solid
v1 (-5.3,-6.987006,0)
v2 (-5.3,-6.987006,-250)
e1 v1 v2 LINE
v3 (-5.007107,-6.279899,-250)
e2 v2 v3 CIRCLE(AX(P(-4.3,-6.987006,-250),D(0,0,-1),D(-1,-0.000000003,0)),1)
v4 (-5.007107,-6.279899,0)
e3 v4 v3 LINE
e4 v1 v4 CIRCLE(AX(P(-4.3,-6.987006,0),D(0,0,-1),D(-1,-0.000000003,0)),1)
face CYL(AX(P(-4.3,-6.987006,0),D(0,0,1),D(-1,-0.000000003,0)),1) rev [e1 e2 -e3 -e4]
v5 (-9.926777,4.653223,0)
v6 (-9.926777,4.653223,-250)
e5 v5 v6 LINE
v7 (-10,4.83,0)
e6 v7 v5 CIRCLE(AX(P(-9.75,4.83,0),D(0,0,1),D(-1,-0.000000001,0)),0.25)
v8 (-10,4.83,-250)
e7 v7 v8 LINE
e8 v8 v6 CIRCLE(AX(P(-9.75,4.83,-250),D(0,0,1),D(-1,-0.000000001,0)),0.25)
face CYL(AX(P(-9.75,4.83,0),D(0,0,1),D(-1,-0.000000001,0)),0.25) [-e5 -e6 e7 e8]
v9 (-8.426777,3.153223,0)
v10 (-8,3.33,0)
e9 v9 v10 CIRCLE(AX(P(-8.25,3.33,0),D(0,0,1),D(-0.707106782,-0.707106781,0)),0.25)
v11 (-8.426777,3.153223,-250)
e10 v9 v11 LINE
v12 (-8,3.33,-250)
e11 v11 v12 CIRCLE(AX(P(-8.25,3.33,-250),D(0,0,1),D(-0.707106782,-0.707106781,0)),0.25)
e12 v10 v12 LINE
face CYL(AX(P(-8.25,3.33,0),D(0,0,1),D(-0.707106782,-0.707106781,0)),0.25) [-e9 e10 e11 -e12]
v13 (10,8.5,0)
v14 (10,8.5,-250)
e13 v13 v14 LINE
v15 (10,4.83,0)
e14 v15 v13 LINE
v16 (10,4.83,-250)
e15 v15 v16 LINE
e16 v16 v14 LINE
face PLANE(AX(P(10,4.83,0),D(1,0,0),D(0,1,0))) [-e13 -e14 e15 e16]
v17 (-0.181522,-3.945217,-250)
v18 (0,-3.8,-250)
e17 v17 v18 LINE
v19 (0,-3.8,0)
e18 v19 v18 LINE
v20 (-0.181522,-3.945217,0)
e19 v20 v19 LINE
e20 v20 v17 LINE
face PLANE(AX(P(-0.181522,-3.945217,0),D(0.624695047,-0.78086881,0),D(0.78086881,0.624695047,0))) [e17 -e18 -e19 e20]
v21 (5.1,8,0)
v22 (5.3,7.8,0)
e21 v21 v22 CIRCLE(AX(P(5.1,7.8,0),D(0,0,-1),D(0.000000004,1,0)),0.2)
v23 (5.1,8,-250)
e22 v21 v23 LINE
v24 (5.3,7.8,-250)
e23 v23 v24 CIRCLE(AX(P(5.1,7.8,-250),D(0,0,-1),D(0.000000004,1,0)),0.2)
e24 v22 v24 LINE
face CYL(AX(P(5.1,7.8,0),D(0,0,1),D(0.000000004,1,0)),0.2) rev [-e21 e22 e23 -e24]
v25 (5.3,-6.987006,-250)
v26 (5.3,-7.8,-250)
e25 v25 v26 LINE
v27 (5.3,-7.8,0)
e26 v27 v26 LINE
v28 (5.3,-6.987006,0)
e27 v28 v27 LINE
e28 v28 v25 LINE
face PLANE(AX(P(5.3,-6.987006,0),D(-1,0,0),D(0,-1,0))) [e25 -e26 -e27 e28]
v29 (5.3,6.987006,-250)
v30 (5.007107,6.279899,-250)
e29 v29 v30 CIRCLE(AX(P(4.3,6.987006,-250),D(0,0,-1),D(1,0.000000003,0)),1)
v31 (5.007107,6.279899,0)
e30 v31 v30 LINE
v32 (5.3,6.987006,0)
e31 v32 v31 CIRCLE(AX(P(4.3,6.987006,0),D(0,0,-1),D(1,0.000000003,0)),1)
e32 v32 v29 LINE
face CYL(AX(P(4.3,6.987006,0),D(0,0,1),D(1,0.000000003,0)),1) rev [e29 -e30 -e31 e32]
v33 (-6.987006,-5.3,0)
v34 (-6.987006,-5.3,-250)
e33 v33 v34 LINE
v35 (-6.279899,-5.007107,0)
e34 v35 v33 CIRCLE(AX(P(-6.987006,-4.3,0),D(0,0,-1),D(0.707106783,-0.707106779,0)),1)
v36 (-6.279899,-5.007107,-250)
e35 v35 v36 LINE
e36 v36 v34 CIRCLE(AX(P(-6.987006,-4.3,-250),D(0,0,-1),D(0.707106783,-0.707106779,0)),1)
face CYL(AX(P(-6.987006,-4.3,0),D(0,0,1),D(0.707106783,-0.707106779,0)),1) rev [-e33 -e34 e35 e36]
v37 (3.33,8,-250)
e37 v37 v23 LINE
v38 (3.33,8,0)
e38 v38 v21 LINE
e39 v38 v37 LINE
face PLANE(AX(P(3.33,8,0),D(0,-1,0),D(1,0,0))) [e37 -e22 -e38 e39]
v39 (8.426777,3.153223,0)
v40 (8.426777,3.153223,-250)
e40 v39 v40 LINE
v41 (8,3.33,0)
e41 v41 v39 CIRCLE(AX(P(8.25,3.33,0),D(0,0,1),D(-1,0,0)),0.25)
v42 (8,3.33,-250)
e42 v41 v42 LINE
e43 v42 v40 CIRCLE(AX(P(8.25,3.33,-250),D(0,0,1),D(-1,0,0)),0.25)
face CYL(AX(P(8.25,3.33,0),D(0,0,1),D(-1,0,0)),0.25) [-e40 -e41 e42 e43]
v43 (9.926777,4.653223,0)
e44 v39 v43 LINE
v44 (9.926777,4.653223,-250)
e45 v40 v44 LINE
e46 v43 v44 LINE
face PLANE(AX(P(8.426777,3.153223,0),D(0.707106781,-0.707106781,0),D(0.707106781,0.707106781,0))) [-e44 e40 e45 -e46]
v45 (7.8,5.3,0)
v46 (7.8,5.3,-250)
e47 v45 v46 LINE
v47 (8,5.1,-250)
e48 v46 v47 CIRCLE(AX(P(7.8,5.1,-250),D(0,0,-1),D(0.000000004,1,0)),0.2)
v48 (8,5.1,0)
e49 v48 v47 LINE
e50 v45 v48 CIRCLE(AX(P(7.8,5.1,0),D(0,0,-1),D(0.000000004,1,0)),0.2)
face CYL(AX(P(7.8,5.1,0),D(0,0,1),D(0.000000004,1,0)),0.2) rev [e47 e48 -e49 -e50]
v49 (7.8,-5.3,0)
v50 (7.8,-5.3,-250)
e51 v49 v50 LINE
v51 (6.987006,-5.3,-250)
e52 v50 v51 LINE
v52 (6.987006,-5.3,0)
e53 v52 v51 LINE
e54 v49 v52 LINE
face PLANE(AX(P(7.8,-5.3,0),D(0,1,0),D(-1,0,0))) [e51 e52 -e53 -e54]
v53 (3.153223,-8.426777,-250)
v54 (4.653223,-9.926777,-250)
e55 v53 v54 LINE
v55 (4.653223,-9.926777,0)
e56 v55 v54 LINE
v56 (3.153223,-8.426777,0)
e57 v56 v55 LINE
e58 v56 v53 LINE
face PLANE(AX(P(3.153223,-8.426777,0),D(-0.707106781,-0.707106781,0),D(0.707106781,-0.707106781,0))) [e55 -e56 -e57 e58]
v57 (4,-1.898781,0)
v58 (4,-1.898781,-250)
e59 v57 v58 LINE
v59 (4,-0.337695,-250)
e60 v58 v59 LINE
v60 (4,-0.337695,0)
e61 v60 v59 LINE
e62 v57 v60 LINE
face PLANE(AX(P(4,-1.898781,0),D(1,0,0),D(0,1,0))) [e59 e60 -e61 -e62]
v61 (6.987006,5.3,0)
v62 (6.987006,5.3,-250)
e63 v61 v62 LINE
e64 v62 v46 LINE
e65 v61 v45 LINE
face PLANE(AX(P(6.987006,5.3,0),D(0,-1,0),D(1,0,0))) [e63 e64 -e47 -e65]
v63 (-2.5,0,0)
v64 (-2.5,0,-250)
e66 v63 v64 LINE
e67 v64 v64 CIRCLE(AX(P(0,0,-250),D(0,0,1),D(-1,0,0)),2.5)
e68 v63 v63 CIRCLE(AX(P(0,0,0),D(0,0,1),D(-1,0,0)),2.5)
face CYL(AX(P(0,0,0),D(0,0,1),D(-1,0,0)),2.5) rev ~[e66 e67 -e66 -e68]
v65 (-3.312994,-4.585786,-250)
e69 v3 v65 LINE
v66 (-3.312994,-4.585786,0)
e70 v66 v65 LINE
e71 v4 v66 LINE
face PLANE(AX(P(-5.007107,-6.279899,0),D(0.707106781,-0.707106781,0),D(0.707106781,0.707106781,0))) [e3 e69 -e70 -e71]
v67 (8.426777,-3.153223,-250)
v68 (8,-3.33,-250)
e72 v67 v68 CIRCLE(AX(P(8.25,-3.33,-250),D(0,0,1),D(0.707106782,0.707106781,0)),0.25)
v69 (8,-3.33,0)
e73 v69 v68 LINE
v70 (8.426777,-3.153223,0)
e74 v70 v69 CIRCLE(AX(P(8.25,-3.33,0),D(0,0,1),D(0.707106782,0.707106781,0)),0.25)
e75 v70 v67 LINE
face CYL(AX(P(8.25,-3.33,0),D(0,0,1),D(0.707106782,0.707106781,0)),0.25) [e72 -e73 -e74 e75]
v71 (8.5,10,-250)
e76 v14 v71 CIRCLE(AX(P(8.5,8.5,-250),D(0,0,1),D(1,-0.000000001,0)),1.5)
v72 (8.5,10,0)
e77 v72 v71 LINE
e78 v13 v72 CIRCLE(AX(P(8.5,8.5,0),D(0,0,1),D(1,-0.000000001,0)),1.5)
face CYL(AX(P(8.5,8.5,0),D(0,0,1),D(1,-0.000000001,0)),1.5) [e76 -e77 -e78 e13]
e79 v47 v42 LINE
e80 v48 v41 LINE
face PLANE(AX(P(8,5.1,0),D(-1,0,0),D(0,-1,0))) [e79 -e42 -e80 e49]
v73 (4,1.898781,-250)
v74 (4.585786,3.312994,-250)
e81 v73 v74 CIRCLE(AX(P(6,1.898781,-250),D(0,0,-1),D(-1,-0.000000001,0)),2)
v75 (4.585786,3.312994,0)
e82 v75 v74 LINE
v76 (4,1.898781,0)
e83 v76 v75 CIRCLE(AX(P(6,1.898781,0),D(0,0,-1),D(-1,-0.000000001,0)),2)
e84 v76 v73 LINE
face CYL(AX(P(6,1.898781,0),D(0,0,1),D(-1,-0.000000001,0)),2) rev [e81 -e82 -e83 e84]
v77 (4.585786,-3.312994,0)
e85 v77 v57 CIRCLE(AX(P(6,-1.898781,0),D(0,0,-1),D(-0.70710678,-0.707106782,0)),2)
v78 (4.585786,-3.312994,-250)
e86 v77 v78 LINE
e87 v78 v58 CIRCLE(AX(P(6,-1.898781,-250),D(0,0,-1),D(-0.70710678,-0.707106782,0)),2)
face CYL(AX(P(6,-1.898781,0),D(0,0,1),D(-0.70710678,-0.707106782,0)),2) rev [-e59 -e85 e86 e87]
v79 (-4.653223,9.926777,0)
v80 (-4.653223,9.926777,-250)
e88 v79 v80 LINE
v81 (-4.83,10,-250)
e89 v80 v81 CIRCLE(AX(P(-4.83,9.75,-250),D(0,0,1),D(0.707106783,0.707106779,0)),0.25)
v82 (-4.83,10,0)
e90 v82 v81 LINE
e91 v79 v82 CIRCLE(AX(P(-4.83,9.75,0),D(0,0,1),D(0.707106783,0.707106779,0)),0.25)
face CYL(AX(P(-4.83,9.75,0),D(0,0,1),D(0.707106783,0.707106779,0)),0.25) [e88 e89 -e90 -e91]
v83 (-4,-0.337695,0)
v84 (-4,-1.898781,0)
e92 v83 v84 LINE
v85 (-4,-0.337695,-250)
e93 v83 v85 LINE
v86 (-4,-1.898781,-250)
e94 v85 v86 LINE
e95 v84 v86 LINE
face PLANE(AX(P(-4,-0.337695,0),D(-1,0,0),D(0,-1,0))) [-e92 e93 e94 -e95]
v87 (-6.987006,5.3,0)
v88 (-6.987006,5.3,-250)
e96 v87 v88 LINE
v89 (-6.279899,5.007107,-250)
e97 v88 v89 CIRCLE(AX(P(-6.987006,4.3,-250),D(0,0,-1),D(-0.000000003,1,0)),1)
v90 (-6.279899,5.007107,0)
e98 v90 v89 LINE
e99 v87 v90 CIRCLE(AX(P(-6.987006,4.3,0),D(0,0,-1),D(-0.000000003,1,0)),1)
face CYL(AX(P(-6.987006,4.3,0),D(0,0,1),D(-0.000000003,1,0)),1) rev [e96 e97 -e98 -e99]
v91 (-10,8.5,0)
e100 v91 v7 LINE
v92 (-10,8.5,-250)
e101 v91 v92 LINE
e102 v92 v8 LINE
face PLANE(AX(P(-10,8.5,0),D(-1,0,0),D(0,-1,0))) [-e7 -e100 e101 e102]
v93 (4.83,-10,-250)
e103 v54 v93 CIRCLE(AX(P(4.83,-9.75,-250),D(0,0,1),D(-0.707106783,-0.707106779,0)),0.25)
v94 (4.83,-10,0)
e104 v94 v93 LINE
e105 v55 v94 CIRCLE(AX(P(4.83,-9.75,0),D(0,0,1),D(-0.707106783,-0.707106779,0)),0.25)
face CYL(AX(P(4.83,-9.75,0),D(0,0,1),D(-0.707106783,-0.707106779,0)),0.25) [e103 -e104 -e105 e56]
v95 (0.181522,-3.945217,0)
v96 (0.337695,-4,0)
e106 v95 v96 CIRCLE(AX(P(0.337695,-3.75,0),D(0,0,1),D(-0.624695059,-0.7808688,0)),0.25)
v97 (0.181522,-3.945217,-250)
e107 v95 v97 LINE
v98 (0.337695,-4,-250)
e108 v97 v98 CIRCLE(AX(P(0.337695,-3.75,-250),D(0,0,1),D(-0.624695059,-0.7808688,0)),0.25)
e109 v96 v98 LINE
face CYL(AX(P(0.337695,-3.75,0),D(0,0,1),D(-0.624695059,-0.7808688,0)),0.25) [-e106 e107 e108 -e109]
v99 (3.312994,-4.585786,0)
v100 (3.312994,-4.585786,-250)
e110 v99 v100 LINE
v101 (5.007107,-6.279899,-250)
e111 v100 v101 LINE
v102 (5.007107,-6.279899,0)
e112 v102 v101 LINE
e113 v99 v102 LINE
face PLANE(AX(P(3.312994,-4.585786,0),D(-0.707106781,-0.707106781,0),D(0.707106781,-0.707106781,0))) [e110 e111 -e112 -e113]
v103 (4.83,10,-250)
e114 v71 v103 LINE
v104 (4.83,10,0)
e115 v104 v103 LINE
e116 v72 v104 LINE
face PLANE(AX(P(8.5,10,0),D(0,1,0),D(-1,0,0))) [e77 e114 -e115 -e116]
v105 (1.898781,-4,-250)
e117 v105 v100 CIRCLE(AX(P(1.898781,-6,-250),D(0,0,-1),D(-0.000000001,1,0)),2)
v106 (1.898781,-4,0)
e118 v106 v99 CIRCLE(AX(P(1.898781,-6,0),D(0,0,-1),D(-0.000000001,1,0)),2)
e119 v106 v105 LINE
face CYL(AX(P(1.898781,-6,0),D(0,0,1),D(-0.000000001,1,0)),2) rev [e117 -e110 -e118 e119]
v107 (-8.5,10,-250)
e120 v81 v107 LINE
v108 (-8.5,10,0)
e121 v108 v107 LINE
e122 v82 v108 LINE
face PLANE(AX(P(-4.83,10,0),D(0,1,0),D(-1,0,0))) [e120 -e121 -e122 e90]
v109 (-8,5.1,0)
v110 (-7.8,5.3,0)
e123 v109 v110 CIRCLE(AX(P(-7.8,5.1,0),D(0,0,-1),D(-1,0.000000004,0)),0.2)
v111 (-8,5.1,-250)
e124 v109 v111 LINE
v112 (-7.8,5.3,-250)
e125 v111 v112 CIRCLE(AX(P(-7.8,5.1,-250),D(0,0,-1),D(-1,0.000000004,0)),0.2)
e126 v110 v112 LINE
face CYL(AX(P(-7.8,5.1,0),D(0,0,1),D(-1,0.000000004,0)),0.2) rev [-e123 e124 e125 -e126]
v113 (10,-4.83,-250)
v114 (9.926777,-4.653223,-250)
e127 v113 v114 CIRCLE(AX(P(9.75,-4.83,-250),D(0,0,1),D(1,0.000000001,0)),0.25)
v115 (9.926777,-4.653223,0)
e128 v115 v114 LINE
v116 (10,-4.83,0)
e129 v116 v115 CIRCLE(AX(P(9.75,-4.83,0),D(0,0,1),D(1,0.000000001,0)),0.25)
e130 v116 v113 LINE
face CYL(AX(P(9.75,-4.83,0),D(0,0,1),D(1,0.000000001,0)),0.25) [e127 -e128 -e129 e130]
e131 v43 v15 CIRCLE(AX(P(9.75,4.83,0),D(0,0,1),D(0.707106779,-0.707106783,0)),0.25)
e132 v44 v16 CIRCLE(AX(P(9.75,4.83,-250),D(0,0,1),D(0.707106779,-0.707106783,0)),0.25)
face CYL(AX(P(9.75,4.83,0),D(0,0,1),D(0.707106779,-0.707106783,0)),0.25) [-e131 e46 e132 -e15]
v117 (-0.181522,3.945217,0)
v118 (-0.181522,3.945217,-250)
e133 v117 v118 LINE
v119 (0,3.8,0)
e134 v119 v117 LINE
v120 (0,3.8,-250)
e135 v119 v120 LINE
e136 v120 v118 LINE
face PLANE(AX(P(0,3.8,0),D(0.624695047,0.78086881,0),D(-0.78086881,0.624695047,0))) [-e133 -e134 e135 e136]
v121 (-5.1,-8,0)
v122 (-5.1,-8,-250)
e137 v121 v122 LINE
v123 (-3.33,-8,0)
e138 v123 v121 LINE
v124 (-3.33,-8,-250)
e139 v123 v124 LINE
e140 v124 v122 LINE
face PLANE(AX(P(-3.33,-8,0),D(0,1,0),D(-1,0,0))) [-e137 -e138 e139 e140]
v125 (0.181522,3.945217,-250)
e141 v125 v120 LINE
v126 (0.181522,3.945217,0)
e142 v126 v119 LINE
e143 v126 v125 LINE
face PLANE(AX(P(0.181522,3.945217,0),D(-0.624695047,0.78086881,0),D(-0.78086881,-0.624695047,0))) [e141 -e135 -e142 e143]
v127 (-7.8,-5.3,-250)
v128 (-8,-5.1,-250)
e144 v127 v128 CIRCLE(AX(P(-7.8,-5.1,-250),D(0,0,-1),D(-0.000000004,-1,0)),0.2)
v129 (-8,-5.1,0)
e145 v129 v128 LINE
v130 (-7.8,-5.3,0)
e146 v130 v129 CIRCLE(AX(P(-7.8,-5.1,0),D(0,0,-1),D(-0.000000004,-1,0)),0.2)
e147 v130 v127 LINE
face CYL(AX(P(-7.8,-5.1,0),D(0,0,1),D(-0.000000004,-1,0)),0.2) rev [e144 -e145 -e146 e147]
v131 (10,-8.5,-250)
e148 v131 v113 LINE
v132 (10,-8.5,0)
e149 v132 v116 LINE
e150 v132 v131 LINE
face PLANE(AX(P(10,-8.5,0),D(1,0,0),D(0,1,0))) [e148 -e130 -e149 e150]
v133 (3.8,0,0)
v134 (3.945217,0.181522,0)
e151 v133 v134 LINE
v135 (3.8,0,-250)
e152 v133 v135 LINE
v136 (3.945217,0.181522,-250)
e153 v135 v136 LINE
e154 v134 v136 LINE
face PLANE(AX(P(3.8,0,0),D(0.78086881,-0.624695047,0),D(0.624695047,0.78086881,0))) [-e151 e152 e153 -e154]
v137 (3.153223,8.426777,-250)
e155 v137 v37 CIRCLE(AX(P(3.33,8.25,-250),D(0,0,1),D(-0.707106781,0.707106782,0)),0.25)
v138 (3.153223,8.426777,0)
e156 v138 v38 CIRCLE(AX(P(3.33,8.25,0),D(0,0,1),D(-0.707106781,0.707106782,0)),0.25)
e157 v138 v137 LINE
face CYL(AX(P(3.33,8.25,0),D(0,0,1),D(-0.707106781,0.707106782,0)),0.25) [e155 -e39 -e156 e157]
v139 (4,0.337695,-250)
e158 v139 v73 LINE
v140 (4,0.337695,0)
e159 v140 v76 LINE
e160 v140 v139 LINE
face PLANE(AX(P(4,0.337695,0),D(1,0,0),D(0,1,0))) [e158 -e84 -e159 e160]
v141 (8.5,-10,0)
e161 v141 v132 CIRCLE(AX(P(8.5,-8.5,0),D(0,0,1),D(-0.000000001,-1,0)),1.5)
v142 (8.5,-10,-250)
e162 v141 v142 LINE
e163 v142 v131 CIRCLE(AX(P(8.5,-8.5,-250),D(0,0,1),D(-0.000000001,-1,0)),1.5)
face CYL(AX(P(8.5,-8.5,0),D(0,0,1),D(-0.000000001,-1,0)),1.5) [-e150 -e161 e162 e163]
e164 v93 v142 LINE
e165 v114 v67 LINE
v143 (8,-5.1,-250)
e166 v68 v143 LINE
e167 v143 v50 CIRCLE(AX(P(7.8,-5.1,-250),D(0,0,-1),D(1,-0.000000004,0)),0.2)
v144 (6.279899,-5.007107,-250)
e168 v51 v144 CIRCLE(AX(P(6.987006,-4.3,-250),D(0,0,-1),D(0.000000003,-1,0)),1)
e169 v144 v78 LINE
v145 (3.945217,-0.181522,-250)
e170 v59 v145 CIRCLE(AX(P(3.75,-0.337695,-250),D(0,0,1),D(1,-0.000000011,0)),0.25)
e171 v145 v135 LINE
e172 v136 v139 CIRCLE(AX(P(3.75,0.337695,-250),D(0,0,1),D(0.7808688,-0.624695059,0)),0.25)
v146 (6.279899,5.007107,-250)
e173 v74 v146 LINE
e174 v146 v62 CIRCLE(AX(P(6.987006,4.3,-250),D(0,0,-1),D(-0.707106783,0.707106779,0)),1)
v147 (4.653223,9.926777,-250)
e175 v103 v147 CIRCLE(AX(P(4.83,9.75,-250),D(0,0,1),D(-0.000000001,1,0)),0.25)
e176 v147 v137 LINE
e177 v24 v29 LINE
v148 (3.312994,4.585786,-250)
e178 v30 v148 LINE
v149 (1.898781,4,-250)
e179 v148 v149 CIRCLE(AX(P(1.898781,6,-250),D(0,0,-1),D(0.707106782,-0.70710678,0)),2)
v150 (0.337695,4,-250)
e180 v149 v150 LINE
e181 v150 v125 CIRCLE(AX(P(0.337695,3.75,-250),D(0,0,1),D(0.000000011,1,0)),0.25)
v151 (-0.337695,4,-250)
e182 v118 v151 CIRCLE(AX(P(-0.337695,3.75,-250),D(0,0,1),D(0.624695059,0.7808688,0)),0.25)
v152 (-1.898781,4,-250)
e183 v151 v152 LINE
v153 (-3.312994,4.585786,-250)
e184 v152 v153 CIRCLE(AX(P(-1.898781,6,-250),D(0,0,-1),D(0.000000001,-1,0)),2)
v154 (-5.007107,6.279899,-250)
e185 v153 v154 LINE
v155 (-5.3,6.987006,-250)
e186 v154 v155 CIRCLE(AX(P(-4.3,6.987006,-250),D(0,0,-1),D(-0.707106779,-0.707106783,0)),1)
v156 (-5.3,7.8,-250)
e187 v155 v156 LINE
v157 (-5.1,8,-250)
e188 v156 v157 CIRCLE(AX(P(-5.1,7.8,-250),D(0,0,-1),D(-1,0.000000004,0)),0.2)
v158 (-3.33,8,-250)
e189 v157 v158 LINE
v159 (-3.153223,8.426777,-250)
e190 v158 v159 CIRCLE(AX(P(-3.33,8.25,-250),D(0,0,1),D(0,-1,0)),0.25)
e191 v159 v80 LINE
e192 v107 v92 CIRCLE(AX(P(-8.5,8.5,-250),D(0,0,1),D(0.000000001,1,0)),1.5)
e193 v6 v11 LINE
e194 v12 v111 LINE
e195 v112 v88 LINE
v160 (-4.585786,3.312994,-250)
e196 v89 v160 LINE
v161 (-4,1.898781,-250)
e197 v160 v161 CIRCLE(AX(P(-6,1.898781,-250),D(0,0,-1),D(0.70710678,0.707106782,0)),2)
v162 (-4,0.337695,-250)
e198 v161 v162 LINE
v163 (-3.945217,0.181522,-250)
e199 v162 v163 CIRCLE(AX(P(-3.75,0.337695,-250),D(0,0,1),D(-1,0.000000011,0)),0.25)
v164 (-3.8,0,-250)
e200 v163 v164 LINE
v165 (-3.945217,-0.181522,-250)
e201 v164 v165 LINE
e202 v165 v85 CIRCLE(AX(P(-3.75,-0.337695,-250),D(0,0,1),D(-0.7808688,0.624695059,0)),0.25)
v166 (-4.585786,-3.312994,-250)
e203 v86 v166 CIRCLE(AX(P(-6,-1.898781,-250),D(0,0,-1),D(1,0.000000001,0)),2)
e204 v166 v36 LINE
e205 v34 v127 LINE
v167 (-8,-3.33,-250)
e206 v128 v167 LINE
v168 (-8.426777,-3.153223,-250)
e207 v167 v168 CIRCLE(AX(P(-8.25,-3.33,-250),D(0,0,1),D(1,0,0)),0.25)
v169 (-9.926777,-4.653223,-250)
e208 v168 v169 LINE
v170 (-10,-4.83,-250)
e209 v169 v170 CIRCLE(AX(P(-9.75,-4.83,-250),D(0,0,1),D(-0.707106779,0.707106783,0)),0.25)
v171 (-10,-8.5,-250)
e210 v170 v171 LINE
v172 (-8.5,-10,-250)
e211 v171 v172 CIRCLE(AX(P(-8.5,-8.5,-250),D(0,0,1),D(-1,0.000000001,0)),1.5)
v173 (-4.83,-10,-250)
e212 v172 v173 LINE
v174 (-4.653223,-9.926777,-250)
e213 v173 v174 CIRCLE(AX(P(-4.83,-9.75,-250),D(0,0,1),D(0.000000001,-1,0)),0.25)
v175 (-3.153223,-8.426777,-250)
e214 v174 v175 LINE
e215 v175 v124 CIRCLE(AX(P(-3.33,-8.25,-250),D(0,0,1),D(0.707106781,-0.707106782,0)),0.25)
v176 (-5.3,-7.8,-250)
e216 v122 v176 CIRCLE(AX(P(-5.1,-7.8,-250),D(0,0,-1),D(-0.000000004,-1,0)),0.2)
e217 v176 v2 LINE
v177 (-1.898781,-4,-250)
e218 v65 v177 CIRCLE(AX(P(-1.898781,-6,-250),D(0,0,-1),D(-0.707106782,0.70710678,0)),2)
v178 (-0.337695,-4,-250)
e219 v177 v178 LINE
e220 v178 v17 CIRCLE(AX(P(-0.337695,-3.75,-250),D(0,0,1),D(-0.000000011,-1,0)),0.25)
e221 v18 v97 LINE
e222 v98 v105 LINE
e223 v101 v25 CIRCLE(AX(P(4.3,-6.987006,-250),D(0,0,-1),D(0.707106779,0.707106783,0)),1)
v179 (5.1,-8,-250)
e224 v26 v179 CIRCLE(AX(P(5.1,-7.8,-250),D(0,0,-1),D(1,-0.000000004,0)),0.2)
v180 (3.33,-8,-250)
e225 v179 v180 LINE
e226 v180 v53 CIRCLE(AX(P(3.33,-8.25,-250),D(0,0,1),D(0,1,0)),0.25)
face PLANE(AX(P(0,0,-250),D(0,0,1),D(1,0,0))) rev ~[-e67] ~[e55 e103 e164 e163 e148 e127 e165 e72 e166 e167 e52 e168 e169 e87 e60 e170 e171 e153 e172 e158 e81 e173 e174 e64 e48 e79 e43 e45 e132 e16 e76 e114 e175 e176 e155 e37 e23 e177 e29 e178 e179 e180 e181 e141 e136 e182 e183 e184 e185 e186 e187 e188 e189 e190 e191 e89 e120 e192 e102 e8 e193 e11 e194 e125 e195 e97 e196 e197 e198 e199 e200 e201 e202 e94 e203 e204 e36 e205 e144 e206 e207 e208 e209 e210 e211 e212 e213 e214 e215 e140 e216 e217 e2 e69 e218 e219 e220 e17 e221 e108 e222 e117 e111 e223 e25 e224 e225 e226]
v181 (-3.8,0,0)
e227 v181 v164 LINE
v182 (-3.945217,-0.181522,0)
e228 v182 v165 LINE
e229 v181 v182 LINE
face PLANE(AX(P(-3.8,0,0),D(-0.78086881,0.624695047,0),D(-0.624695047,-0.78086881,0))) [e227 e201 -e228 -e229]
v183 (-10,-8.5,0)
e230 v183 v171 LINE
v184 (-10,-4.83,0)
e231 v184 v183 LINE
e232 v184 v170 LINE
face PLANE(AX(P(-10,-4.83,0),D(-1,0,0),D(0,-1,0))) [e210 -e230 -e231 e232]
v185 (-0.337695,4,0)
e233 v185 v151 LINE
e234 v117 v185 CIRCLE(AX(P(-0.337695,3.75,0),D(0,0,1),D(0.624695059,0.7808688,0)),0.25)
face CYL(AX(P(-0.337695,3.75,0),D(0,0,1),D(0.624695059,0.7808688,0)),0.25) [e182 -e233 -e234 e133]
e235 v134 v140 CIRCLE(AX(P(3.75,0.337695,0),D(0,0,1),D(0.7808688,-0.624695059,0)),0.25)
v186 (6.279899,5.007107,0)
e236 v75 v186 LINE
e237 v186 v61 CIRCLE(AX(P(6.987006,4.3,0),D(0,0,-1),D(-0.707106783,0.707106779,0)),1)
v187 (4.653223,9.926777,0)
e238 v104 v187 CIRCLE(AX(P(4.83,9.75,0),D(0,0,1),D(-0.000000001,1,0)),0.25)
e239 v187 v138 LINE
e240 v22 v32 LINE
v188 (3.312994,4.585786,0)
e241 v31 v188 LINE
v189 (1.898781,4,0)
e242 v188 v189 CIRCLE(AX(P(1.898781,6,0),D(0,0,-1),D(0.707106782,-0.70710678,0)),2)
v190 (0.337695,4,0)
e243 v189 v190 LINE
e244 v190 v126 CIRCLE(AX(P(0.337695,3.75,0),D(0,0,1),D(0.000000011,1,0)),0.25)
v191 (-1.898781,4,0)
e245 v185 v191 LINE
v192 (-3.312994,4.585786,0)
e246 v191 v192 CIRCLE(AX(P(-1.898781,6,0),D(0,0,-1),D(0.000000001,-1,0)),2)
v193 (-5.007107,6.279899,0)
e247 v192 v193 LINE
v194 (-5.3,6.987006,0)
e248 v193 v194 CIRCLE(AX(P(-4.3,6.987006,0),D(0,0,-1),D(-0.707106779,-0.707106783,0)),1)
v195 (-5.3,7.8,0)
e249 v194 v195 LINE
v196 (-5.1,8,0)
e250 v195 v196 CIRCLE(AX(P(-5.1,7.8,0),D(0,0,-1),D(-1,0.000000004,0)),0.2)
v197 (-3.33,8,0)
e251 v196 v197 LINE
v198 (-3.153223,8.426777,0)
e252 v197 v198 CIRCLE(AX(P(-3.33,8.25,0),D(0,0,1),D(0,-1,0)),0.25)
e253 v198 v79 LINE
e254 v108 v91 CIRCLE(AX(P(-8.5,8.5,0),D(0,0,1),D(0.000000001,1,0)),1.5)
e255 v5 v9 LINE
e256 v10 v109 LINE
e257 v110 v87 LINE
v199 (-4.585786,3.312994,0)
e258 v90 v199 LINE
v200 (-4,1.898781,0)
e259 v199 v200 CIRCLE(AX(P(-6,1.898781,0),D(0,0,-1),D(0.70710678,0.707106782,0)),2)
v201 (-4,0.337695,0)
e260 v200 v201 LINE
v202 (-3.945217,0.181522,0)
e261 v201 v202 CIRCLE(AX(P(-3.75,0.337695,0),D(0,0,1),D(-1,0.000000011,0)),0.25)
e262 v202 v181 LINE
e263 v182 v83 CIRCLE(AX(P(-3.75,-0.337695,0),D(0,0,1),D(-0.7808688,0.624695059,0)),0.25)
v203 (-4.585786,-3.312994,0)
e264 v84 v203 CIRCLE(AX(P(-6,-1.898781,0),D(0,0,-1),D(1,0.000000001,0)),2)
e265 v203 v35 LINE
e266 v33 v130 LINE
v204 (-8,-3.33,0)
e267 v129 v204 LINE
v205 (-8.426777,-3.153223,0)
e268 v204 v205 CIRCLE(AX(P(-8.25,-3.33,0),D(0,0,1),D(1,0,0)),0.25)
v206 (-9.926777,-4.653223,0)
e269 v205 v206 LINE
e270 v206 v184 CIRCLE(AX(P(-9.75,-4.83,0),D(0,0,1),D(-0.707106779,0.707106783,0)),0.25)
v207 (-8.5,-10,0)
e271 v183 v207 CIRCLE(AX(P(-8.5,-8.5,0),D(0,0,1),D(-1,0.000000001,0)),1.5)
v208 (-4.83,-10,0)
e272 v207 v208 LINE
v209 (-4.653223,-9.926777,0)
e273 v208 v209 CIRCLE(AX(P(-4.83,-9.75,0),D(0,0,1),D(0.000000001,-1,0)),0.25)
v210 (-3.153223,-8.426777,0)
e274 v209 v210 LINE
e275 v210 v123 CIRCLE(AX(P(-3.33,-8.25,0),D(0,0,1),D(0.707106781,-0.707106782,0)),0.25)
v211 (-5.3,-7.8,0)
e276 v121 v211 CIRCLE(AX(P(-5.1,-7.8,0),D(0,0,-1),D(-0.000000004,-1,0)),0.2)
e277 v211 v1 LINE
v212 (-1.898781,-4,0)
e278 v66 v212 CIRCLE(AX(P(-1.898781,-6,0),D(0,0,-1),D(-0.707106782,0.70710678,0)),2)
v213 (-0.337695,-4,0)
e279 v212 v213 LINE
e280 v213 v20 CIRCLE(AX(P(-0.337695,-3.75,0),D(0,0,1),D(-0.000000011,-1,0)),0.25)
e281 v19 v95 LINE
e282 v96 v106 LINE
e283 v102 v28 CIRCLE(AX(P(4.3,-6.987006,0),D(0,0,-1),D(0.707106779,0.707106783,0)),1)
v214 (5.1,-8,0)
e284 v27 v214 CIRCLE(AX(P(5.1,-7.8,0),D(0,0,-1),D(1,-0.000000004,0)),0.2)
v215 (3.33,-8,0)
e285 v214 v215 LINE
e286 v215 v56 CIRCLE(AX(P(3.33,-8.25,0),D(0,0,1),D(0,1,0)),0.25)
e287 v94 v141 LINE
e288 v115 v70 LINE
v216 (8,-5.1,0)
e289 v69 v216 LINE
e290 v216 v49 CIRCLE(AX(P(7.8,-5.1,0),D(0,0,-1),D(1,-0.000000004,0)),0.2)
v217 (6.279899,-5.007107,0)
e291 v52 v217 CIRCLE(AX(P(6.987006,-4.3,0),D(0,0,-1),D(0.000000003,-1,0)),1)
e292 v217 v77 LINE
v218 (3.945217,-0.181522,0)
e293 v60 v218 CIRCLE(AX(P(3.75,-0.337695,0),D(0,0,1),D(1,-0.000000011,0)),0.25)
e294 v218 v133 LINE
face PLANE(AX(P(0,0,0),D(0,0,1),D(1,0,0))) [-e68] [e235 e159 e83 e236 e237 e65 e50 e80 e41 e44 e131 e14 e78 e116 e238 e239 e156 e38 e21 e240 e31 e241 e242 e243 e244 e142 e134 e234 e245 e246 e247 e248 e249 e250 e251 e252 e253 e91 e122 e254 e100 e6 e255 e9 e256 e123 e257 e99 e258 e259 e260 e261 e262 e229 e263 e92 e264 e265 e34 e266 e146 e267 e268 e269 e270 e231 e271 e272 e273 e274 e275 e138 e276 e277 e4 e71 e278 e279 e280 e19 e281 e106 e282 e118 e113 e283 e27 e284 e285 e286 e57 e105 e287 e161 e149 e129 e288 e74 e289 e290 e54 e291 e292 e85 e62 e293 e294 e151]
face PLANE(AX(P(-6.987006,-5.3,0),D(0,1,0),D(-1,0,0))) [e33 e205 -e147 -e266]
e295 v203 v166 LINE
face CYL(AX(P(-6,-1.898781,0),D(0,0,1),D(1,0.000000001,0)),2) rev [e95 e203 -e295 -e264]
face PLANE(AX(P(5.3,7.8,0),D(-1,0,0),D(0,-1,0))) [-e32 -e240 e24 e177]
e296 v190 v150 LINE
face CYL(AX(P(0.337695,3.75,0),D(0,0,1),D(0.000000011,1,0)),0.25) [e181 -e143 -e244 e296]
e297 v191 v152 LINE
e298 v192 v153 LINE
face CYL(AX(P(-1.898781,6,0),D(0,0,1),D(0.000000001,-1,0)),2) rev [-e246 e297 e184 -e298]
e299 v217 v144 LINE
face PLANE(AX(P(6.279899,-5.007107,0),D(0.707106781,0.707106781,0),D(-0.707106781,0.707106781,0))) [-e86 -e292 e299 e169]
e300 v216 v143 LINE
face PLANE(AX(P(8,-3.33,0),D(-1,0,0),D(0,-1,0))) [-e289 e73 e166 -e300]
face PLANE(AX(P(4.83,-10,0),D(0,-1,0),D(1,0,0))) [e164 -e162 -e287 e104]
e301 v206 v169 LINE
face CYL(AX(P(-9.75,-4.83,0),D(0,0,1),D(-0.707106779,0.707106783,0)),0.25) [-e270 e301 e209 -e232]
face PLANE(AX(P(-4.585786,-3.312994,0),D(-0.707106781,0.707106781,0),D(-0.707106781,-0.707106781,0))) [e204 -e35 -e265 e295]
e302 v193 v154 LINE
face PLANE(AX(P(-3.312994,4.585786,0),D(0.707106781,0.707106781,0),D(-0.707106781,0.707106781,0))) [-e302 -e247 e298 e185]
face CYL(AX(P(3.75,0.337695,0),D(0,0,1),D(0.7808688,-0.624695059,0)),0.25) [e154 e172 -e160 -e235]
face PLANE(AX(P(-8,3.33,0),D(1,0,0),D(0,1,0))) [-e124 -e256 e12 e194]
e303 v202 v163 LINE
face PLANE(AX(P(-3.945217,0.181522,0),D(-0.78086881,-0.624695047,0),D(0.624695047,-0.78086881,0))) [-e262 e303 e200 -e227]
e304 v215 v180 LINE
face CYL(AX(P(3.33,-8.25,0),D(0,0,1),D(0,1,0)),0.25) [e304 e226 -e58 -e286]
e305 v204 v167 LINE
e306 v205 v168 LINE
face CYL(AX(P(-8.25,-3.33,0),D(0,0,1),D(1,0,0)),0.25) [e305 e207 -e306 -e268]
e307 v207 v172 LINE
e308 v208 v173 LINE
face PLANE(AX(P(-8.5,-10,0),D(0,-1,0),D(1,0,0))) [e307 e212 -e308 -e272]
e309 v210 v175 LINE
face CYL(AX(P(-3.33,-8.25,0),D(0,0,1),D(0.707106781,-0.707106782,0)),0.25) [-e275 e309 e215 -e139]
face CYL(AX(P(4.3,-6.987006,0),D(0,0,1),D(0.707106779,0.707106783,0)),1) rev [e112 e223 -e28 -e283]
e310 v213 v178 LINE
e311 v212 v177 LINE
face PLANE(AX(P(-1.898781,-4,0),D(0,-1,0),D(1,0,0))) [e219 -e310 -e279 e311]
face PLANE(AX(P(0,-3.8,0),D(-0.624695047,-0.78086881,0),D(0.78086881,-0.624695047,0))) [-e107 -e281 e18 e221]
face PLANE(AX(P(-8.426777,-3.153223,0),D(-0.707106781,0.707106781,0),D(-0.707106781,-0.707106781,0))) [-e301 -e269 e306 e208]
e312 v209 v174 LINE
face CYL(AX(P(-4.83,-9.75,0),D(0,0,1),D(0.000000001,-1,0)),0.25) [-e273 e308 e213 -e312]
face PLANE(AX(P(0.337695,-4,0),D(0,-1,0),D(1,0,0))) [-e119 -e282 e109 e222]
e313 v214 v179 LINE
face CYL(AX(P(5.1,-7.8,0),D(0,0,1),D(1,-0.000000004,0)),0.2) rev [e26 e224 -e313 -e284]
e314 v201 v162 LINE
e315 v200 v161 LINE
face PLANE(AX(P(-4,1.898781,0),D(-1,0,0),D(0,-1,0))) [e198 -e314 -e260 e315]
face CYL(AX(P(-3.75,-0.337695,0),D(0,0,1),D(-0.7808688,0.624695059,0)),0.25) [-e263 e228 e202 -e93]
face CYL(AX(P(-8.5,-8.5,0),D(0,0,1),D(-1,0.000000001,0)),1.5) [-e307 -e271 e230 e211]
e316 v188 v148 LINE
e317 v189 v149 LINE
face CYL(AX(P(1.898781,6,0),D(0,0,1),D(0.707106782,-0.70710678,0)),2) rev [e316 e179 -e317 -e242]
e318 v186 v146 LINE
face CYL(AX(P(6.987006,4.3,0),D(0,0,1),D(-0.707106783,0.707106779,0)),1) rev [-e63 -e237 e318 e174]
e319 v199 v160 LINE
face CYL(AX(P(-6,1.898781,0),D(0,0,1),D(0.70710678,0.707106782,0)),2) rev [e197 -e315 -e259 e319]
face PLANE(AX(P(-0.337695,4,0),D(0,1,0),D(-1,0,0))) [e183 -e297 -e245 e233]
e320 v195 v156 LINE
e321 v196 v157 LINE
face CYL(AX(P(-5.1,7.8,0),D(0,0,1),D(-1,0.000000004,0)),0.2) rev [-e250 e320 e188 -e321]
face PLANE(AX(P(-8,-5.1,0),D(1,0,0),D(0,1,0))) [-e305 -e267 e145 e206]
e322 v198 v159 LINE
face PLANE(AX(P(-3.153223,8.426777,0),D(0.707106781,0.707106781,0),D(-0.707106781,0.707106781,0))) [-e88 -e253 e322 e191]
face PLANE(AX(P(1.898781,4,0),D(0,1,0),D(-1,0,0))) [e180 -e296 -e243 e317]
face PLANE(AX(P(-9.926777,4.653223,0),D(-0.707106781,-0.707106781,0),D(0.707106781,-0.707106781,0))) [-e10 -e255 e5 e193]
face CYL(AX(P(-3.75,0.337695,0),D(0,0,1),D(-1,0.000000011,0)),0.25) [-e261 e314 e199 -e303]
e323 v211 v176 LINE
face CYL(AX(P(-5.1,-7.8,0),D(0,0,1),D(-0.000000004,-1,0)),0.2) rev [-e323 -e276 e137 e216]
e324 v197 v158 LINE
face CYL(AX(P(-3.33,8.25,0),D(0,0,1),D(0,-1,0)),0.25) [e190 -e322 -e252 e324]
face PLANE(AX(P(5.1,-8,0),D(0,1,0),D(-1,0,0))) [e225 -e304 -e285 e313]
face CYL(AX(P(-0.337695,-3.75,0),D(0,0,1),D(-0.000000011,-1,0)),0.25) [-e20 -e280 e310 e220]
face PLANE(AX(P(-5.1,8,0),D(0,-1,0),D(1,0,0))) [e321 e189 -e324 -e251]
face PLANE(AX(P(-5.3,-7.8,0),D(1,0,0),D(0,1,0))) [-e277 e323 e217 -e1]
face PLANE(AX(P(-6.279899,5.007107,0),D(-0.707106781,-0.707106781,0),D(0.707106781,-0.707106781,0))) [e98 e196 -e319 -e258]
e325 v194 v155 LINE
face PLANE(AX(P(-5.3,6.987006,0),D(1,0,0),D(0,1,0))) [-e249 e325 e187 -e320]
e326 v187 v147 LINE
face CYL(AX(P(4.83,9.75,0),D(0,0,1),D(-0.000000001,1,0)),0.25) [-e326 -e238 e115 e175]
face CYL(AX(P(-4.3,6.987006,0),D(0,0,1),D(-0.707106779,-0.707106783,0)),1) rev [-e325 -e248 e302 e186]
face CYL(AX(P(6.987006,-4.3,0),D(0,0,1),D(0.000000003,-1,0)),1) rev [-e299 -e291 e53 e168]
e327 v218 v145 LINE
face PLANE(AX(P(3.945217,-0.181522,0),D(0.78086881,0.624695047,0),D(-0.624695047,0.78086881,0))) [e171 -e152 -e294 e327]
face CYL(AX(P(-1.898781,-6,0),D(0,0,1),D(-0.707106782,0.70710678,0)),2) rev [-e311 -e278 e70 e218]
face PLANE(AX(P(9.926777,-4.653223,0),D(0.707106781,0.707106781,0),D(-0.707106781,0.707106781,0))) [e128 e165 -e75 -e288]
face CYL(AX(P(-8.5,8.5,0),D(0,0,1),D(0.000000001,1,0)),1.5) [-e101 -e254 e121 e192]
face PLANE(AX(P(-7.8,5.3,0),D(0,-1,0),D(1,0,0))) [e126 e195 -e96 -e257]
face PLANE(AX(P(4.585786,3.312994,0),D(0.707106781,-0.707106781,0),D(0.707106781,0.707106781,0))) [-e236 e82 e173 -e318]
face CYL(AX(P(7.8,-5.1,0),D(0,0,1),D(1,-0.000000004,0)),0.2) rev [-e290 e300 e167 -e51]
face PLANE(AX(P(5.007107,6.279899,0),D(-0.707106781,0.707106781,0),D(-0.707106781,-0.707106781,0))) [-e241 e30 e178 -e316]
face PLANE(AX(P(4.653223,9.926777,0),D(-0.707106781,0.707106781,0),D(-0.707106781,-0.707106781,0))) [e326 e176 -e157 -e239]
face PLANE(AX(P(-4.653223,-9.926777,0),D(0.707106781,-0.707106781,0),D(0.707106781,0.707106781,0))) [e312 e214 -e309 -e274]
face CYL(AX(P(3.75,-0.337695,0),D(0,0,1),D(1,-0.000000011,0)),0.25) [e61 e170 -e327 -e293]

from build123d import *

# Parameters (mm, degrees)
SKETCH_181_R      = 2.5
EXTRUDE_724_DEPTH = 250


with BuildPart() as part:
    # Sketch 181 → Extrude 724 (new body)
    with BuildSketch(Plane.XY):
        with BuildLine():
            Line((-4, 1.898780669), (-4, 0.337695265))
            ThreePointArc((-4, 0.337695265), (-3.98590708, 0.254943529), (-3.945217202, 0.181521503))
            Line((-3.945217202, 0.181521503), (-3.8, 0))
            Line((-3.8, 0), (-3.945217202, -0.181521503))
            ThreePointArc((-3.945217202, -0.181521503), (-3.98590708, -0.254943529), (-4, -0.337695265))
            Line((-4, -0.337695265), (-4, -1.898780669))
            ThreePointArc((-4, -1.898780669), (-4.152240935, -2.664147534), (-4.585786438, -3.312994231))
            Line((-4.585786438, -3.312994231), (-6.279898987, -5.007106781))
            ThreePointArc((-6.279898987, -5.007106781), (-6.604322336, -5.223879533), (-6.987005769, -5.3))
            Line((-6.987005769, -5.3), (-7.8, -5.3))
            ThreePointArc((-7.8, -5.3), (-7.941421356, -5.241421356), (-8, -5.1))
            Line((-8, -5.1), (-8, -3.33))
            ThreePointArc((-8, -3.33), (-8.154329142, -3.099030117), (-8.426776695, -3.153223305))
            Line((-8.426776695, -3.153223305), (-9.926776695, -4.653223305))
            ThreePointArc((-9.926776695, -4.653223305), (-9.980969883, -4.734329142), (-10, -4.83))
            Line((-10, -4.83), (-10, -8.5))
            ThreePointArc((-10, -8.5), (-9.560660172, -9.560660172), (-8.5, -10))
            Line((-8.5, -10), (-4.83, -10))
            ThreePointArc((-4.83, -10), (-4.734329142, -9.980969883), (-4.653223305, -9.926776695))
            Line((-4.653223305, -9.926776695), (-3.153223305, -8.426776695))
            ThreePointArc((-3.153223305, -8.426776695), (-3.099030117, -8.154329142), (-3.33, -8))
            Line((-3.33, -8), (-5.1, -8))
            ThreePointArc((-5.1, -8), (-5.241421356, -7.941421356), (-5.3, -7.8))
            Line((-5.3, -7.8), (-5.3, -6.987005769))
            ThreePointArc((-5.3, -6.987005769), (-5.223879533, -6.604322336), (-5.007106781, -6.279898987))
            Line((-5.007106781, -6.279898987), (-3.312994231, -4.585786438))
            ThreePointArc((-3.312994231, -4.585786438), (-2.664147534, -4.152240935), (-1.898780669, -4))
            Line((-1.898780669, -4), (-0.337695265, -4))
            ThreePointArc((-0.337695265, -4), (-0.254943529, -3.98590708), (-0.181521503, -3.945217202))
            Line((-0.181521503, -3.945217202), (0, -3.8))
            Line((0, -3.8), (0.181521503, -3.945217202))
            ThreePointArc((0.181521503, -3.945217202), (0.254943529, -3.98590708), (0.337695265, -4))
            Line((0.337695265, -4), (1.898780669, -4))
            ThreePointArc((1.898780669, -4), (2.664147534, -4.152240935), (3.312994231, -4.585786438))
            Line((3.312994231, -4.585786438), (5.007106781, -6.279898987))
            ThreePointArc((5.007106781, -6.279898987), (5.223879533, -6.604322336), (5.3, -6.987005769))
            Line((5.3, -6.987005769), (5.3, -7.8))
            ThreePointArc((5.3, -7.8), (5.241421356, -7.941421356), (5.1, -8))
            Line((5.1, -8), (3.33, -8))
            ThreePointArc((3.33, -8), (3.099030117, -8.154329142), (3.153223305, -8.426776695))
            Line((3.153223305, -8.426776695), (4.653223305, -9.926776695))
            ThreePointArc((4.653223305, -9.926776695), (4.734329142, -9.980969883), (4.83, -10))
            Line((4.83, -10), (8.5, -10))
            ThreePointArc((8.5, -10), (9.560660172, -9.560660172), (10, -8.5))
            Line((10, -8.5), (10, -4.83))
            ThreePointArc((10, -4.83), (9.980969883, -4.734329142), (9.926776695, -4.653223305))
            Line((9.926776695, -4.653223305), (8.426776695, -3.153223305))
            ThreePointArc((8.426776695, -3.153223305), (8.154329142, -3.099030117), (8, -3.33))
            Line((8, -3.33), (8, -5.1))
            ThreePointArc((8, -5.1), (7.941421356, -5.241421356), (7.8, -5.3))
            Line((7.8, -5.3), (6.987005769, -5.3))
            ThreePointArc((6.987005769, -5.3), (6.604322336, -5.223879533), (6.279898987, -5.007106781))
            Line((6.279898987, -5.007106781), (4.585786438, -3.312994231))
            ThreePointArc((4.585786438, -3.312994231), (4.152240935, -2.664147534), (4, -1.898780669))
            Line((4, -1.898780669), (4, -0.337695265))
            ThreePointArc((4, -0.337695265), (3.98590708, -0.254943529), (3.945217202, -0.181521503))
            Line((3.945217202, -0.181521503), (3.8, 0))
            Line((3.8, 0), (3.945217202, 0.181521503))
            ThreePointArc((3.945217202, 0.181521503), (3.98590708, 0.254943529), (4, 0.337695265))
            Line((4, 0.337695265), (4, 1.898780669))
            ThreePointArc((4, 1.898780669), (4.152240935, 2.664147534), (4.585786438, 3.312994231))
            Line((4.585786438, 3.312994231), (6.279898987, 5.007106781))
            ThreePointArc((6.279898987, 5.007106781), (6.604322336, 5.223879533), (6.987005769, 5.3))
            Line((6.987005769, 5.3), (7.8, 5.3))
            ThreePointArc((7.8, 5.3), (7.941421356, 5.241421356), (8, 5.1))
            Line((8, 5.1), (8, 3.33))
            ThreePointArc((8, 3.33), (8.154329142, 3.099030117), (8.426776695, 3.153223305))
            Line((8.426776695, 3.153223305), (9.926776695, 4.653223305))
            ThreePointArc((9.926776695, 4.653223305), (9.980969883, 4.734329142), (10, 4.83))
            Line((10, 4.83), (10, 8.5))
            ThreePointArc((10, 8.5), (9.560660172, 9.560660172), (8.5, 10))
            Line((8.5, 10), (4.83, 10))
            ThreePointArc((4.83, 10), (4.734329142, 9.980969883), (4.653223305, 9.926776695))
            Line((4.653223305, 9.926776695), (3.153223305, 8.426776695))
            ThreePointArc((3.153223305, 8.426776695), (3.099030117, 8.154329142), (3.33, 8))
            Line((3.33, 8), (5.1, 8))
            ThreePointArc((5.1, 8), (5.241421356, 7.941421356), (5.3, 7.8))
            Line((5.3, 7.8), (5.3, 6.987005769))
            ThreePointArc((5.3, 6.987005769), (5.223879533, 6.604322336), (5.007106781, 6.279898987))
            Line((5.007106781, 6.279898987), (3.312994231, 4.585786438))
            ThreePointArc((3.312994231, 4.585786438), (2.664147534, 4.152240935), (1.898780669, 4))
            Line((1.898780669, 4), (0.337695265, 4))
            ThreePointArc((0.337695265, 4), (0.254943529, 3.98590708), (0.181521503, 3.945217202))
            Line((0.181521503, 3.945217202), (0, 3.8))
            Line((0, 3.8), (-0.181521503, 3.945217202))
            ThreePointArc((-0.181521503, 3.945217202), (-0.254943529, 3.98590708), (-0.337695265, 4))
            Line((-0.337695265, 4), (-1.898780669, 4))
            ThreePointArc((-1.898780669, 4), (-2.664147534, 4.152240935), (-3.312994231, 4.585786438))
            Line((-3.312994231, 4.585786438), (-5.007106781, 6.279898987))
            ThreePointArc((-5.007106781, 6.279898987), (-5.223879533, 6.604322336), (-5.3, 6.987005769))
            Line((-5.3, 6.987005769), (-5.3, 7.8))
            ThreePointArc((-5.3, 7.8), (-5.241421356, 7.941421356), (-5.1, 8))
            Line((-5.1, 8), (-3.33, 8))
            ThreePointArc((-3.33, 8), (-3.099030117, 8.154329142), (-3.153223305, 8.426776695))
            Line((-3.153223305, 8.426776695), (-4.653223305, 9.926776695))
            ThreePointArc((-4.653223305, 9.926776695), (-4.734329142, 9.980969883), (-4.83, 10))
            Line((-4.83, 10), (-8.5, 10))
            ThreePointArc((-8.5, 10), (-9.560660172, 9.560660172), (-10, 8.5))
            Line((-10, 8.5), (-10, 4.83))
            ThreePointArc((-10, 4.83), (-9.980969883, 4.734329142), (-9.926776695, 4.653223305))
            Line((-9.926776695, 4.653223305), (-8.426776695, 3.153223305))
            ThreePointArc((-8.426776695, 3.153223305), (-8.154329142, 3.099030117), (-8, 3.33))
            Line((-8, 3.33), (-8, 5.1))
            ThreePointArc((-8, 5.1), (-7.941421356, 5.241421356), (-7.8, 5.3))
            Line((-7.8, 5.3), (-6.987005769, 5.3))
            ThreePointArc((-6.987005769, 5.3), (-6.604322336, 5.223879533), (-6.279898987, 5.007106781))
            Line((-6.279898987, 5.007106781), (-4.585786438, 3.312994231))
            ThreePointArc((-4.585786438, 3.312994231), (-4.152240935, 2.664147534), (-4, 1.898780669))
        make_face()
        with Locations(Location((0, 0, 0), (0, 0, 180))):
            Circle(SKETCH_181_R, mode=Mode.SUBTRACT)
    extrude(amount=-EXTRUDE_724_DEPTH)


solid = part.part
